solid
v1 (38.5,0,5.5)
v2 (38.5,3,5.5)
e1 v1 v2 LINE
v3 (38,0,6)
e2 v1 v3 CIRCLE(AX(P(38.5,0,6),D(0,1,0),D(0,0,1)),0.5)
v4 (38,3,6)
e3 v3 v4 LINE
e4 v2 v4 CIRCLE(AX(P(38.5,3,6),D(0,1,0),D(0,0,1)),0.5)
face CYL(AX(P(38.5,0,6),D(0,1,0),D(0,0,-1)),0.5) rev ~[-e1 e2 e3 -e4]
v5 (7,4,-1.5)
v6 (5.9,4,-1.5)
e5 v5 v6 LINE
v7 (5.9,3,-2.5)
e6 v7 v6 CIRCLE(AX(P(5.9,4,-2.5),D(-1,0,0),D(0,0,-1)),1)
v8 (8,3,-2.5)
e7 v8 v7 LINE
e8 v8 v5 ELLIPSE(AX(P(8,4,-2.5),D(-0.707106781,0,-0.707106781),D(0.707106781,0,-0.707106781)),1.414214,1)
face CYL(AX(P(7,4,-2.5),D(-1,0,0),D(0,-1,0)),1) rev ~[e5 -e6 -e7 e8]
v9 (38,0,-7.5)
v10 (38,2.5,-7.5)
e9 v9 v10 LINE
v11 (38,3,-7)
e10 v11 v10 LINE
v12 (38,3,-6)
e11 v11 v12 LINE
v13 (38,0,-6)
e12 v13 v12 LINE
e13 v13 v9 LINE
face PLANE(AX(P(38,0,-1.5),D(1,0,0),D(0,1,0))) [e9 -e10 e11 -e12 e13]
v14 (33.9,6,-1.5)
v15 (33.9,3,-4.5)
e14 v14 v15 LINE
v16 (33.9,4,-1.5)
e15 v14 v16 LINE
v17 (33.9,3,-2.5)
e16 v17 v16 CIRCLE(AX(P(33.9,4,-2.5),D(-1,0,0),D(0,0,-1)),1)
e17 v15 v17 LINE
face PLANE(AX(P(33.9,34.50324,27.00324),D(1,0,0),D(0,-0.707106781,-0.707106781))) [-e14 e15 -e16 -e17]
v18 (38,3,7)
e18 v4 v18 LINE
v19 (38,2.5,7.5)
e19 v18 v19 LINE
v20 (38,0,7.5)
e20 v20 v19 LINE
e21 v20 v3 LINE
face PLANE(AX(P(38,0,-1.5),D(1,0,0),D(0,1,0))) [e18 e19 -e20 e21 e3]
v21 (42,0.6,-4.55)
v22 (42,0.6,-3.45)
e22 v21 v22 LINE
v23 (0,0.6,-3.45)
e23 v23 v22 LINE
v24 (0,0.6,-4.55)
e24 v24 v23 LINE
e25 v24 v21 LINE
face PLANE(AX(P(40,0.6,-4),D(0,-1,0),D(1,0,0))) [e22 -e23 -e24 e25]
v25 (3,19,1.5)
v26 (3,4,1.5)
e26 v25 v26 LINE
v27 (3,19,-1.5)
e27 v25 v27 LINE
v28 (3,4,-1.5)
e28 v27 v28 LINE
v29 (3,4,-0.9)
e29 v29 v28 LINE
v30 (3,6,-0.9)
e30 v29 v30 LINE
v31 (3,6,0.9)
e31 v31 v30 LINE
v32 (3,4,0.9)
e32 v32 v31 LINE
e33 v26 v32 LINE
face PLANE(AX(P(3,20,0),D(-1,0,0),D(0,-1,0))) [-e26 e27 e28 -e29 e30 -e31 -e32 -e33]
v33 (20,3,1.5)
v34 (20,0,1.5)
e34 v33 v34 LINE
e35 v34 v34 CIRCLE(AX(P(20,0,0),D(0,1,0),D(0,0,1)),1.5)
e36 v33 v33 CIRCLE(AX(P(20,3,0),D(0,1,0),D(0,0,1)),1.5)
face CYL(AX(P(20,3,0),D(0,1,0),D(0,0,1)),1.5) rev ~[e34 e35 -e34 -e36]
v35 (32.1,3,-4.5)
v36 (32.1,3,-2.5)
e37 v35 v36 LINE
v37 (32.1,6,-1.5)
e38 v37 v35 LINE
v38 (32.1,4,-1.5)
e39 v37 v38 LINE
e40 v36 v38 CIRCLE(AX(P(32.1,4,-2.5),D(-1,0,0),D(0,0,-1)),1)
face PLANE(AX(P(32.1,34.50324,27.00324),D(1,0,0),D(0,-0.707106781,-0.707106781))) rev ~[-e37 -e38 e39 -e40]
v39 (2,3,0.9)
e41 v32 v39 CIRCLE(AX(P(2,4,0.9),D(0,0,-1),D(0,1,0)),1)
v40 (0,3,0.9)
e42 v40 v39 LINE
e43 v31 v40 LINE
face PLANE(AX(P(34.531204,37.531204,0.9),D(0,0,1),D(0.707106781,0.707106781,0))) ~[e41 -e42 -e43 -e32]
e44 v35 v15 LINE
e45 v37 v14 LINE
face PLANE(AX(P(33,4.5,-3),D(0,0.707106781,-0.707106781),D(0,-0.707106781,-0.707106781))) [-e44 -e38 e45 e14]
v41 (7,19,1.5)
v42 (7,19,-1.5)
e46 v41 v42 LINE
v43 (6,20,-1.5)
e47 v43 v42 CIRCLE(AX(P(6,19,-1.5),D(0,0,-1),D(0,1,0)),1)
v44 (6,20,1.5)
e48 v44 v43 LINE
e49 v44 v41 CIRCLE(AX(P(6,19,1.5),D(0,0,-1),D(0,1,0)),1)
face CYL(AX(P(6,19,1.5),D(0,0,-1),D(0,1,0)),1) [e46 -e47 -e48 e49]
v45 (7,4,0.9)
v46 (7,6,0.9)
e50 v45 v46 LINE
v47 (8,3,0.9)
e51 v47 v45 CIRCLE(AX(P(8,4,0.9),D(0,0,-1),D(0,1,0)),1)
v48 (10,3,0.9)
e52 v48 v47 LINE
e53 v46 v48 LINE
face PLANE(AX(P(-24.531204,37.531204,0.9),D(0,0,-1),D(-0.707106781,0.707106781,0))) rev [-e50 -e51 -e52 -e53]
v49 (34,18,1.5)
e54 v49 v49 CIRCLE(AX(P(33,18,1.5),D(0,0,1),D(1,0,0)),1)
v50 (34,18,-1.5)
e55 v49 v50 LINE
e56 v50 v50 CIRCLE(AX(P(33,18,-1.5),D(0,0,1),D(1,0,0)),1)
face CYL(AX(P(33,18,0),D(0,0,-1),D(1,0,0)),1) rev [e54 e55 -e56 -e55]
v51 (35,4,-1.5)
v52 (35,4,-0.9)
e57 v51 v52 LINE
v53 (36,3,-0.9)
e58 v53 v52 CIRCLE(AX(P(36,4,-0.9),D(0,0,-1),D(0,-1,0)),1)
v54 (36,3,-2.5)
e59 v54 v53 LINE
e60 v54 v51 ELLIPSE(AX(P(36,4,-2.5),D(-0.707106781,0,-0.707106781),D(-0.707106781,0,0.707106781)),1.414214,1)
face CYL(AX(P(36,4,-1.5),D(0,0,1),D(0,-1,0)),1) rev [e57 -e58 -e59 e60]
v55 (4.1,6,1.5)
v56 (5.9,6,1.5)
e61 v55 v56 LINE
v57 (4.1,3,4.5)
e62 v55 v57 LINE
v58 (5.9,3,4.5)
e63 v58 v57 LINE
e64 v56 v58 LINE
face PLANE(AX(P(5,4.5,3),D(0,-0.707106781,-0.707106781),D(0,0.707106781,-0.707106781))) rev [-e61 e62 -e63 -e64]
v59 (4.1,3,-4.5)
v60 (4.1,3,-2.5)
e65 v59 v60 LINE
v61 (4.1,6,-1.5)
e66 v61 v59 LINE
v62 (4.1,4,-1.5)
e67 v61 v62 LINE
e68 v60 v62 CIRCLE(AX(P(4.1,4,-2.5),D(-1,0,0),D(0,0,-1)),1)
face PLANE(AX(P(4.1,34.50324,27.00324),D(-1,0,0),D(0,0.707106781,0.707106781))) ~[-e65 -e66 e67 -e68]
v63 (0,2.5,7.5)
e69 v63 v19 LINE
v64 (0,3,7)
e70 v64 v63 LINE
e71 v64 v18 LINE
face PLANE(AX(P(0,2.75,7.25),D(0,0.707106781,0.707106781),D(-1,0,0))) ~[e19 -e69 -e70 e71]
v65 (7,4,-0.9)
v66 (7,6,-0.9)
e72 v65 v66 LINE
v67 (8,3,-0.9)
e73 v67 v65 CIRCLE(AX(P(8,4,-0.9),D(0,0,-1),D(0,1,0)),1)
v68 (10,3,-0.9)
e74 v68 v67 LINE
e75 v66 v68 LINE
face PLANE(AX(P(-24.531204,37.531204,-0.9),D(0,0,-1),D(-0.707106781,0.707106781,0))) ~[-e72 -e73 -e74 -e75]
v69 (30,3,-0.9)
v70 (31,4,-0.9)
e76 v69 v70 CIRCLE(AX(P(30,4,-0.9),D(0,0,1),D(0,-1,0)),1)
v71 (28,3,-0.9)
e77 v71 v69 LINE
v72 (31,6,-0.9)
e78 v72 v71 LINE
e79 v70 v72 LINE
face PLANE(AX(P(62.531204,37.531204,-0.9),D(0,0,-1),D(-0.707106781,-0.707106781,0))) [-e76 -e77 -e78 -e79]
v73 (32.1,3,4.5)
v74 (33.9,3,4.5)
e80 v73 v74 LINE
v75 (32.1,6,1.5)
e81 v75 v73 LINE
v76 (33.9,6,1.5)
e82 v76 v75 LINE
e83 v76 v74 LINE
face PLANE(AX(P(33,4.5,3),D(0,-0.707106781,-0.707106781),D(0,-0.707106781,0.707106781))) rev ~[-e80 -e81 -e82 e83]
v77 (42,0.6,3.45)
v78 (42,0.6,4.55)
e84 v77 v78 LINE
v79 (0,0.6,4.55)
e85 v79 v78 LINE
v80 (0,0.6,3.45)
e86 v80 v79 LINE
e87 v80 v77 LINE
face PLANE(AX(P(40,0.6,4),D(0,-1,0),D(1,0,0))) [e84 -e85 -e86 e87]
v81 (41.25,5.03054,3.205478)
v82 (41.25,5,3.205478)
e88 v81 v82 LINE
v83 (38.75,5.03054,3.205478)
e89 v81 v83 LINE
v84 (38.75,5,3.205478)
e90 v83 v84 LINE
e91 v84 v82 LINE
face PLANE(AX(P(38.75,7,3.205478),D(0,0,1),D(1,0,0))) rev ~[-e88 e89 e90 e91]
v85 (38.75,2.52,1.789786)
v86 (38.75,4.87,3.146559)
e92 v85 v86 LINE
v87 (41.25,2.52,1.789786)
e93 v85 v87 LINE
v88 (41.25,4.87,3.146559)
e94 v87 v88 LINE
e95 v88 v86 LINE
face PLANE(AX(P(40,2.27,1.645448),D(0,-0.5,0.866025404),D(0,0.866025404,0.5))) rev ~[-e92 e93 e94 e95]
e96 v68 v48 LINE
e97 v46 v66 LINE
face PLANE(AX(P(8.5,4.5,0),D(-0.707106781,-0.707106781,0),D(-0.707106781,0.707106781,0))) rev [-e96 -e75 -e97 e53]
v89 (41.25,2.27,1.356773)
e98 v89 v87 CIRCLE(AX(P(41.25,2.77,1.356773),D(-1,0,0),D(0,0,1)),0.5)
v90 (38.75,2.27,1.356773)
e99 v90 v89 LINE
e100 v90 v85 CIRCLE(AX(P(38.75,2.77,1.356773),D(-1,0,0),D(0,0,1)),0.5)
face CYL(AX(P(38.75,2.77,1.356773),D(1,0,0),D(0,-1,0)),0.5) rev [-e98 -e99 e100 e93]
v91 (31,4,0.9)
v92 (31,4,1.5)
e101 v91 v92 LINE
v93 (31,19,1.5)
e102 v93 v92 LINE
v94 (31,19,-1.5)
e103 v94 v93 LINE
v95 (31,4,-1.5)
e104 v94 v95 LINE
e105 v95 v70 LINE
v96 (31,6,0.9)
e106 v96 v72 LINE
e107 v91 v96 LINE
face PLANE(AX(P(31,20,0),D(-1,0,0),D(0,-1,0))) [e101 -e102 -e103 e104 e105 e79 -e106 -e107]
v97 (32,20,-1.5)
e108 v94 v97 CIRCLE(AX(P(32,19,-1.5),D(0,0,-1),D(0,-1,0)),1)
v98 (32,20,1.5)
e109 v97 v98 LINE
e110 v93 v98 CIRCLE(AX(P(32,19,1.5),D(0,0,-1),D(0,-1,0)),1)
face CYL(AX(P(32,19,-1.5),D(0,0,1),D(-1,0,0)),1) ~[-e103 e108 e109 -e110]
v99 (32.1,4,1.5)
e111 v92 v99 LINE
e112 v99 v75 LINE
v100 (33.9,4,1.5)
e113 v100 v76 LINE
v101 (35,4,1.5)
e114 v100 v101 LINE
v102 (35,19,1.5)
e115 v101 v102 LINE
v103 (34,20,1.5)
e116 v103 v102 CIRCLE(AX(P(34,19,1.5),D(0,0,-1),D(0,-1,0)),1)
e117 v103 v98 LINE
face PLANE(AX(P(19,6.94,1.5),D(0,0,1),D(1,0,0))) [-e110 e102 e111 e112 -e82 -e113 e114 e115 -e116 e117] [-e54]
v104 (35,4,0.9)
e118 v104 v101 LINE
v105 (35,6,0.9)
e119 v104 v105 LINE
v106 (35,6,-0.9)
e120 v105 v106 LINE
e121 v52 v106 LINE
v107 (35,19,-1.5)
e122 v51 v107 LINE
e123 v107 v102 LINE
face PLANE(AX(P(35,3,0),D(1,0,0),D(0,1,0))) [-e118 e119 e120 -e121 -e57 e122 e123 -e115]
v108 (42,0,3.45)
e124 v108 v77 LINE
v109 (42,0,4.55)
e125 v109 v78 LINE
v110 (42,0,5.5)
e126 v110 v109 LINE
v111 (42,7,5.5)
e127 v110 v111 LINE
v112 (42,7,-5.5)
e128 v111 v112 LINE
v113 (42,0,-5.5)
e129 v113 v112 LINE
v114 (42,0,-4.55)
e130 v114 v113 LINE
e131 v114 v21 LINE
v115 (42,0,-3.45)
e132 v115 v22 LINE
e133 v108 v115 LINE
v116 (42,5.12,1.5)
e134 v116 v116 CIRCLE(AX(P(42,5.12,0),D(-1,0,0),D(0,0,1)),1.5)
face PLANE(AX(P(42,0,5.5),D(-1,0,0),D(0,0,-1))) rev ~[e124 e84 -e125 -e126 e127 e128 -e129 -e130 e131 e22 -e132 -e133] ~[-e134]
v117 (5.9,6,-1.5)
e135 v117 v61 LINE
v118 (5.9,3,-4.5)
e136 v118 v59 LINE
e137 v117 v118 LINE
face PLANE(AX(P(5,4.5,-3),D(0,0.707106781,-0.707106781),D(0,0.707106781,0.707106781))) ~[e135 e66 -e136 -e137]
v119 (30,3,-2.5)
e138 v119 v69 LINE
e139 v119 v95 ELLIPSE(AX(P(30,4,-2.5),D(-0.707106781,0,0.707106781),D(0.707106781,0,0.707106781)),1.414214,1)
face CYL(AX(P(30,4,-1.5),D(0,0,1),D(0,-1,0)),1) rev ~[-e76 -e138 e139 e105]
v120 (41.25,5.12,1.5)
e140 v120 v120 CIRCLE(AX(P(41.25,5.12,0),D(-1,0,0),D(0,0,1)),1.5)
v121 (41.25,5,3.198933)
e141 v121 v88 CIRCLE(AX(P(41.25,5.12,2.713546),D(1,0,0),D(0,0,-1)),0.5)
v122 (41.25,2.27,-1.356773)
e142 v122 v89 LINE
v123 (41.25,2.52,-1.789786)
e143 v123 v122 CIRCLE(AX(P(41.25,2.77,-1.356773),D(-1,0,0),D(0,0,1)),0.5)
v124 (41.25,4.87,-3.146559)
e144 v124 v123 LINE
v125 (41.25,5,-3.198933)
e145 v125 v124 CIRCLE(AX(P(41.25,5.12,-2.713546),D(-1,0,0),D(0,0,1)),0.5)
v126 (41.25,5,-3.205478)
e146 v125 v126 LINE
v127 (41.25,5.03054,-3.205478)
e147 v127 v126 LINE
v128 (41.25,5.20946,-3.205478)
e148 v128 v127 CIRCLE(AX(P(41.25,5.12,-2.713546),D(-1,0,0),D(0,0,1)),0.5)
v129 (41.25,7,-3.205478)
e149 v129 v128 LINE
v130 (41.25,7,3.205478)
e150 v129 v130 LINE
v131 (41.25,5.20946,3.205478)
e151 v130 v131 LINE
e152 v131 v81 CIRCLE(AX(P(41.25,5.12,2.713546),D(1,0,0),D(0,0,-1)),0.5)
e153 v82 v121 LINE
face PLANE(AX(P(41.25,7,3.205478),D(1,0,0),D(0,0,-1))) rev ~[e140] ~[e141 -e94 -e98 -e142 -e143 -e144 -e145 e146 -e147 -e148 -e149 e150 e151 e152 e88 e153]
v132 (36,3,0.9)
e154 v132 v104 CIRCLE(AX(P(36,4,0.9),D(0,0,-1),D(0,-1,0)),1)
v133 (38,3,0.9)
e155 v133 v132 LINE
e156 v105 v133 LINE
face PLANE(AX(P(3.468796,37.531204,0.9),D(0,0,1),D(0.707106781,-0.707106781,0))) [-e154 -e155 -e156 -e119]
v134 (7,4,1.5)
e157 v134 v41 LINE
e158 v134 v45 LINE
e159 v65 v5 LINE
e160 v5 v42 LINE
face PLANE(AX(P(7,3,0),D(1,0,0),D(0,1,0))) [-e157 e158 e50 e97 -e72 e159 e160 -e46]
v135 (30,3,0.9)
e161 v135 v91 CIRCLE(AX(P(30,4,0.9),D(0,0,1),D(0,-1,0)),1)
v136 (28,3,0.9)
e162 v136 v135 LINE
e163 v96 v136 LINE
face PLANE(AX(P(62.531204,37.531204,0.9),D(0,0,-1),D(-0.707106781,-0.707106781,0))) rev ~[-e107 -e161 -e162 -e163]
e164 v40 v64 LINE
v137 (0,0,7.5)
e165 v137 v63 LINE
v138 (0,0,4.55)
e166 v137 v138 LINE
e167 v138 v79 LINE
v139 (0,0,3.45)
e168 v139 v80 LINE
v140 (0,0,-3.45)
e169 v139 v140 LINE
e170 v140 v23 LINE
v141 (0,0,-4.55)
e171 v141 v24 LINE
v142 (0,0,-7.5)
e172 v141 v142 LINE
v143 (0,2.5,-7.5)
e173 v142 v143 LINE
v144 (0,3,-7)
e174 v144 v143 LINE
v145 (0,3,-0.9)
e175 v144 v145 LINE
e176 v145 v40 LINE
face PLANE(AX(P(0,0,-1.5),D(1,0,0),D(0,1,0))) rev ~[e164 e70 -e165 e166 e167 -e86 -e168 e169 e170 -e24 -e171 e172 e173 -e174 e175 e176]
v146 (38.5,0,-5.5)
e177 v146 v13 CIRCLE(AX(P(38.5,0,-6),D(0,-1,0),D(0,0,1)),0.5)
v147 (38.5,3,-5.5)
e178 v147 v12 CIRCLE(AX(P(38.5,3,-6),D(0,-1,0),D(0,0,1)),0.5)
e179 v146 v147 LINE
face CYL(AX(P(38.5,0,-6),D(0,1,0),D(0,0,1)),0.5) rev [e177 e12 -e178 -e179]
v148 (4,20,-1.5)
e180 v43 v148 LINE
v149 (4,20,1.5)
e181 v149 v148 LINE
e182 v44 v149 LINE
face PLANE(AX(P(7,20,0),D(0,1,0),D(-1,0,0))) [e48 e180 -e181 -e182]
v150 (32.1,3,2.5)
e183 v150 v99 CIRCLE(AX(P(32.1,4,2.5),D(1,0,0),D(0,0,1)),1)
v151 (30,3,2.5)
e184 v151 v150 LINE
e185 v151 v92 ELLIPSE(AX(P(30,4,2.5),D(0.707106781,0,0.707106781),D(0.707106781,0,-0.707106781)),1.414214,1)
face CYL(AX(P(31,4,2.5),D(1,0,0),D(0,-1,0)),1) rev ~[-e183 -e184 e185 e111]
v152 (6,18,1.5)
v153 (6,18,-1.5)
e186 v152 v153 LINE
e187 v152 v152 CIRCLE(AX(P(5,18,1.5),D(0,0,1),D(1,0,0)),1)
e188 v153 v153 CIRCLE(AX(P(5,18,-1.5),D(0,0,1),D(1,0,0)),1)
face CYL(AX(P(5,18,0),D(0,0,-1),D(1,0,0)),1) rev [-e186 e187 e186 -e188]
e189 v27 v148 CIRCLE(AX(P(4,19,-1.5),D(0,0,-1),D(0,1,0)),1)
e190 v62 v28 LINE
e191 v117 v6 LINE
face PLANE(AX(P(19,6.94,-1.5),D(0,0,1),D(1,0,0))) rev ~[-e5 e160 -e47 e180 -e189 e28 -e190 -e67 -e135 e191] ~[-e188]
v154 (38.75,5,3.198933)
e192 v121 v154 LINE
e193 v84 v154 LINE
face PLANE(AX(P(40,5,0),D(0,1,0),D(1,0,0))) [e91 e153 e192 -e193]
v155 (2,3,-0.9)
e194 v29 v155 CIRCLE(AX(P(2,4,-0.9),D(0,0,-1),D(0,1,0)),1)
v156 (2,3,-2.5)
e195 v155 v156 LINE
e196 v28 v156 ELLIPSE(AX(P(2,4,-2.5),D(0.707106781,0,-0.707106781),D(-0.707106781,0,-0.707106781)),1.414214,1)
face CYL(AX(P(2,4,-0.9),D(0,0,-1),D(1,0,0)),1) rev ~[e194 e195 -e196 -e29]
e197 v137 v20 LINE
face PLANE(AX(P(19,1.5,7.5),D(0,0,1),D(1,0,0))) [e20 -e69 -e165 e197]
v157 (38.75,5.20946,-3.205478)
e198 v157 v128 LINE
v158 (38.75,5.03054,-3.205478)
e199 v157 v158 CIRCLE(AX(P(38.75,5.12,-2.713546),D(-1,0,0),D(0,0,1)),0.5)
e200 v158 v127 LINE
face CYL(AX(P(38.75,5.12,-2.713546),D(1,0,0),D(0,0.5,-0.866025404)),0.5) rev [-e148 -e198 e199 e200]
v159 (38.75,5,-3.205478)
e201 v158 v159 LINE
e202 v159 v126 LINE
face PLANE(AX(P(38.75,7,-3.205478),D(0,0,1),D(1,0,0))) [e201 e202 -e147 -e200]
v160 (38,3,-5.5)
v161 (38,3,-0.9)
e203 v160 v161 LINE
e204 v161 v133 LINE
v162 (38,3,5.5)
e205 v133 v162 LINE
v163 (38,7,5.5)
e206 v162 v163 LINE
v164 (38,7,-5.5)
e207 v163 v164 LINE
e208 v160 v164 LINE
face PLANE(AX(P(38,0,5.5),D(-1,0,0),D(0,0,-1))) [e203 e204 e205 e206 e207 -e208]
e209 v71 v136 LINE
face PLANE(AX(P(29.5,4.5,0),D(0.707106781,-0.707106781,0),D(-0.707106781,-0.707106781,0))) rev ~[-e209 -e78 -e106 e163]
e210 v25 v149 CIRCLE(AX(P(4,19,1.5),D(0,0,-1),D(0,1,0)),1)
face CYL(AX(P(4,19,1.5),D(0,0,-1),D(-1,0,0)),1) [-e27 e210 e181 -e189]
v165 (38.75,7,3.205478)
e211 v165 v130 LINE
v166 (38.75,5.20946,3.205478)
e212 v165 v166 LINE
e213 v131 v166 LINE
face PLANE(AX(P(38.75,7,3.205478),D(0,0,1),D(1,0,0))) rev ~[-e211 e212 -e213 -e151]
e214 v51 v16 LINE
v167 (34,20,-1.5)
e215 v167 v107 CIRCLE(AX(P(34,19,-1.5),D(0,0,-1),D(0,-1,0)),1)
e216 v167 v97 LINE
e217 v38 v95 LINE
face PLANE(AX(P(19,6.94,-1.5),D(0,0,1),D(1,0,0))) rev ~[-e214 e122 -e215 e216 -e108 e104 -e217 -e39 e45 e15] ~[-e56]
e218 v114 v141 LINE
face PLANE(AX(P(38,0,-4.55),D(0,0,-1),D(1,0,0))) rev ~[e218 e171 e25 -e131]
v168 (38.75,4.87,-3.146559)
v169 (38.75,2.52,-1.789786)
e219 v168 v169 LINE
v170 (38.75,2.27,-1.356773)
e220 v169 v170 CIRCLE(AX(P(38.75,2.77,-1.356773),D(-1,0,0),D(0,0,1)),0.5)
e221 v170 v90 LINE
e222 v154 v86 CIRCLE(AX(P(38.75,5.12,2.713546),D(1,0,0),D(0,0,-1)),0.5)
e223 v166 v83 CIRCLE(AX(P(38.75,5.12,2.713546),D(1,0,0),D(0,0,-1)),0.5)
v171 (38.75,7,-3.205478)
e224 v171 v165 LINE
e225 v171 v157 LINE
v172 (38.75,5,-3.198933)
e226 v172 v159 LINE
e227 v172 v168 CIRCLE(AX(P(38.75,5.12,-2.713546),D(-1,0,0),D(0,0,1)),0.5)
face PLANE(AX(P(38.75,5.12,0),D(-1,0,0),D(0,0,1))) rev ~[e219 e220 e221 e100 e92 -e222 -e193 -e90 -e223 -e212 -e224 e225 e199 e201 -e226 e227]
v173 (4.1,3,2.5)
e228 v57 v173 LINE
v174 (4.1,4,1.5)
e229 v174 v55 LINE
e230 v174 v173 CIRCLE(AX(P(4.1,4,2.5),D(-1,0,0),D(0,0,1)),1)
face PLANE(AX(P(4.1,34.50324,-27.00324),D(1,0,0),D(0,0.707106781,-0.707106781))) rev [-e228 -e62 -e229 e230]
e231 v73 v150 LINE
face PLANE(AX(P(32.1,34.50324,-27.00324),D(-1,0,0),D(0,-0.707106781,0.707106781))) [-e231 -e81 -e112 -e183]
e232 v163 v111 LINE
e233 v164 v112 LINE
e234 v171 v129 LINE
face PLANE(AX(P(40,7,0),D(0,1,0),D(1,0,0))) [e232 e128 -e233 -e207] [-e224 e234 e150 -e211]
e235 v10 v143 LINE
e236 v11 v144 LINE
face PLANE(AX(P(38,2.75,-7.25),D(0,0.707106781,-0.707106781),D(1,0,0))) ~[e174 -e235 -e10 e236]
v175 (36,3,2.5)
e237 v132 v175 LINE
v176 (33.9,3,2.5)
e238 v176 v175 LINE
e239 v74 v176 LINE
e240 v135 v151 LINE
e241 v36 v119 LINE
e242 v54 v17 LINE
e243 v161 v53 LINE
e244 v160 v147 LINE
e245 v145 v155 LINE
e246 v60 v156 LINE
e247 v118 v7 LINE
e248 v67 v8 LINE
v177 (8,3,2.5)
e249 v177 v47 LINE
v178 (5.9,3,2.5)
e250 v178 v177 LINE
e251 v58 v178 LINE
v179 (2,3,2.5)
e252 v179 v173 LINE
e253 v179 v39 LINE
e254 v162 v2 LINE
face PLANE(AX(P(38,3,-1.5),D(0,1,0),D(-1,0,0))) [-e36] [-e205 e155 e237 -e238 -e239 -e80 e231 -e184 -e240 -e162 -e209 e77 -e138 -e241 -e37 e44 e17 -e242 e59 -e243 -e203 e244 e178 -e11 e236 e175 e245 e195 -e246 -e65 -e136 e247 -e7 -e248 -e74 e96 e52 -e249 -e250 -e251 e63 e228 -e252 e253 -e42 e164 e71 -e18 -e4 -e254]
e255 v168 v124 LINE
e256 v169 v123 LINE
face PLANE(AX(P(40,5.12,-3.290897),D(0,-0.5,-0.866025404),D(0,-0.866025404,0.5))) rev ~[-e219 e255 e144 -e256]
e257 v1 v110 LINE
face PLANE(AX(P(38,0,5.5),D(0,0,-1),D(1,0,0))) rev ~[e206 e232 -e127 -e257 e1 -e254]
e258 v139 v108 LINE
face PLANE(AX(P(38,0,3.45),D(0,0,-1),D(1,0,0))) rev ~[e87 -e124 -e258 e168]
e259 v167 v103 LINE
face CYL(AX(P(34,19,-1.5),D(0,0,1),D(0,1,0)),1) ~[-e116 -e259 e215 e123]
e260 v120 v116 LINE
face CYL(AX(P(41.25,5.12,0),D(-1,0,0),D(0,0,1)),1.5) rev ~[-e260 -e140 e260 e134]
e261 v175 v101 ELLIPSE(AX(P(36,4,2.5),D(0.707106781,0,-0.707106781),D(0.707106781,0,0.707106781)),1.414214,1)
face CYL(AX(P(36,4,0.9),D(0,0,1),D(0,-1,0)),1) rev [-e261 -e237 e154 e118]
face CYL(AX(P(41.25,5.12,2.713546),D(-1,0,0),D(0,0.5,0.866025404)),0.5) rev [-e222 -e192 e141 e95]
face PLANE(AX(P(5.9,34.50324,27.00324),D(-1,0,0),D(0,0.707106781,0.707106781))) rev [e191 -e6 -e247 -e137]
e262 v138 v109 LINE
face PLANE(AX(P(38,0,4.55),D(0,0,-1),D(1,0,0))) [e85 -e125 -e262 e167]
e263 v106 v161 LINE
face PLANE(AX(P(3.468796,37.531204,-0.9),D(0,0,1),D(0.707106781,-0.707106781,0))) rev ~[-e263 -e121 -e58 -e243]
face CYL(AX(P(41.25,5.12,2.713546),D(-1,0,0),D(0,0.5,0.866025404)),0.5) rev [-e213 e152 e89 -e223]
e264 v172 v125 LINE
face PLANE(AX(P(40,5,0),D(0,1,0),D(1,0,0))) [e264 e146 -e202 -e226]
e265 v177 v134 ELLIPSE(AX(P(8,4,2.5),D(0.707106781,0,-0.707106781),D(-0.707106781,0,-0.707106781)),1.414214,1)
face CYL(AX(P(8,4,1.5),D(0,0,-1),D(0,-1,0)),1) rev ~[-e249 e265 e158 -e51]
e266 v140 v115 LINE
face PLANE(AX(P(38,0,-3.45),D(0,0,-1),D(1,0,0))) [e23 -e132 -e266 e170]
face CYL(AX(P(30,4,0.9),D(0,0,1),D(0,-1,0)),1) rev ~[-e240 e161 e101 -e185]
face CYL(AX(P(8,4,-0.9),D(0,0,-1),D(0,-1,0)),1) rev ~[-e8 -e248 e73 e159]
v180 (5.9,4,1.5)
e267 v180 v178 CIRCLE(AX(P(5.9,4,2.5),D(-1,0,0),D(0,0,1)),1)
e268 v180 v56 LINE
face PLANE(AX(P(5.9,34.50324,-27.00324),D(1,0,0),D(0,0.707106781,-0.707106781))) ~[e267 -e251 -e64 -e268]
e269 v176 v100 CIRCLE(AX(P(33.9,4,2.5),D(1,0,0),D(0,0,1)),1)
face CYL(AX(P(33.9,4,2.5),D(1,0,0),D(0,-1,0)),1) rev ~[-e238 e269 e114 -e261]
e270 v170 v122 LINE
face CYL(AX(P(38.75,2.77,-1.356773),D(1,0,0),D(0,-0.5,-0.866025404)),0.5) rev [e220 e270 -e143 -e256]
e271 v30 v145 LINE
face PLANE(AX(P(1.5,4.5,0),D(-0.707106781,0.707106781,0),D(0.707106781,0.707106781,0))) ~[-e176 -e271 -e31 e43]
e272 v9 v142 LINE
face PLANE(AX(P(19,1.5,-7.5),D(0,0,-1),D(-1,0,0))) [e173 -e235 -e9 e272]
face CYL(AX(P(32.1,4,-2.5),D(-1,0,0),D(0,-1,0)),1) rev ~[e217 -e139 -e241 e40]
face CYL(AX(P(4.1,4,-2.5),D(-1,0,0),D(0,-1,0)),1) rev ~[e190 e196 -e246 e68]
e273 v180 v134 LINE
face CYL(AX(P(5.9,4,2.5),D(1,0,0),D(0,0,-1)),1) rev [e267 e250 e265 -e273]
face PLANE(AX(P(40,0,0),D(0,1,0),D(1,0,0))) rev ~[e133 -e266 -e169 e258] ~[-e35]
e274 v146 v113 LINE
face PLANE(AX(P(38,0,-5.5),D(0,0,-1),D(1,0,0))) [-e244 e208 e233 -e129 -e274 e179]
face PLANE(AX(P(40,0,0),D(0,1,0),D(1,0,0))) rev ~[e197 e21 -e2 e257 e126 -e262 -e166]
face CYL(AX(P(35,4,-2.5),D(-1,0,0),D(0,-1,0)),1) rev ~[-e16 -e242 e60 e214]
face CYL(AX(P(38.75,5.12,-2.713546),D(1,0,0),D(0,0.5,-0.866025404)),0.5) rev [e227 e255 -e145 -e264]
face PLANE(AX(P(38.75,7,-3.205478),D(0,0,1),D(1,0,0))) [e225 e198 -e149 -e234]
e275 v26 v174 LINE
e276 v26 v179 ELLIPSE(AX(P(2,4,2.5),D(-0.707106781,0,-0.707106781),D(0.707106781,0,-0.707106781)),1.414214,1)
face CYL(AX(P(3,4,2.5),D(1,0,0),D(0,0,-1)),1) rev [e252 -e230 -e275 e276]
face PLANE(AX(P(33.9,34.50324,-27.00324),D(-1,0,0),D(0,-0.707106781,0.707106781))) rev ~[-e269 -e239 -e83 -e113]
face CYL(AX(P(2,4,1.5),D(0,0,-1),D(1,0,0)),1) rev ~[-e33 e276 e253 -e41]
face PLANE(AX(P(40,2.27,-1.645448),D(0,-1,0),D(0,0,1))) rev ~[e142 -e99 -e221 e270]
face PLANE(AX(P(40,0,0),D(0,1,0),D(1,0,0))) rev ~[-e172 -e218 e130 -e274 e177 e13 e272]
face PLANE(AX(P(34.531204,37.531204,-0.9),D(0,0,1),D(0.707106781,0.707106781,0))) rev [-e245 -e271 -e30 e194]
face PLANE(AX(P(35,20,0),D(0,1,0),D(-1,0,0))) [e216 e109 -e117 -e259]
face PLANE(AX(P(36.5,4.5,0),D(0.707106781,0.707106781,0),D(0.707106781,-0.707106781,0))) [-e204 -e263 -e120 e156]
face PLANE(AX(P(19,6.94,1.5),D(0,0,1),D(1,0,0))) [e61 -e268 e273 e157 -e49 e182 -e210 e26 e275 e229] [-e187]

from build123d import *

# Parameters (mm, degrees)
CROQUIS1_R                   = 1
SALIENTE_EXTRUIR1_DEPTH      = 1.5
CROQUIS2_W                   = 38
CROQUIS2_H                   = 3
SALIENTE_EXTRUIR2_DEPTH      = 6
CROQUIS3_W                   = 38
CROQUIS3_H                   = 3
SALIENTE_EXTRUIR3_DEPTH      = 6
REDONDEO1_R                  = 1
NERVIO1_REACH                = 45.592
CROQUIS4_WALL_W              = 93.426354762
CROQUIS4_WALL_H              = 1.8
NERVIO5_REACH                = 45.592
CROQUIS5_WALL_W              = 93.426354762
CROQUIS5_WALL_H              = 1.8
NERVIO6_REACH                = 41.31
CROQUIS6_WALL_W              = 84.861976732
CROQUIS6_WALL_H              = 1.8
NERVIO7_REACH                = 41.31
CROQUIS7_WALL_W              = 84.861976732
CROQUIS7_WALL_H              = 1.8
REDONDEO2_R                  = 1
CROQUIS8_W                   = 38
CROQUIS8_H                   = 1.1
CROQUIS8_W_2                 = 38.249115133
CORTAR_EXTRUIR1_DEPTH        = 0.6
SALIENTE_EXTRUIR5_DEPTH      = 4
SALIENTE_EXTRUIR5_DEPTH_BACK = 3
CROQUIS10_W                  = 4
CROQUIS10_H                  = 11
CORTAR_EXTRUIR2_START        = -2
CORTAR_EXTRUIR2_DEPTH        = 1.25
REDONDEO5_R                  = 0.5
CROQUIS13_W                  = 4
CROQUIS13_H                  = 1.1
CORTAR_EXTRUIR4_DEPTH        = 0.6
CROQUIS14_W                  = 2.5
CROQUIS14_H                  = 6.410956056
CORTAR_EXTRUIR5_DEPTH        = 2
CORTAR_EXTRUIR6_START        = -3.25
CROQUIS11_3_R                = 1.5
CORTAR_EXTRUIR6_DEPTH        = 4
CORTAR_EXTRUIR7_REACH        = 47.927
CROQUIS16_R                  = 1.5
REDONDEO6_R                  = 0.5
CHAFL_N1_SIZE                = 0.5


with BuildPart() as part:
    # Croquis1 → Saliente-Extruir1 (new, symmetric)
    with BuildSketch(Plane.XY):
        Polygon((0, 0), (38, 0), (38, 3), (35, 3), (35, 20), (31, 20), (31, 3), (7, 3), (7, 20), (3, 20), (3, 3), (0, 3), align=None)
        with Locations((5, 18)):
            Circle(CROQUIS1_R, mode=Mode.SUBTRACT)
        with Locations((33, 18)):
            Circle(CROQUIS1_R, mode=Mode.SUBTRACT)
    extrude(amount=SALIENTE_EXTRUIR1_DEPTH, both=True)

    # Croquis2 → Saliente-Extruir2 (add)
    with BuildSketch(Plane.XY.offset(1.5)):
        with Locations((19, 1.5)):
            Rectangle(CROQUIS2_W, CROQUIS2_H)
    extrude(amount=SALIENTE_EXTRUIR2_DEPTH)

    # Croquis3 → Saliente-Extruir3 (add)
    with BuildSketch(Plane(origin=(0, 0, -1.5), x_dir=(-1, 0, 0), z_dir=(0, 0, -1))):
        with Locations((-19, 1.5)):
            Rectangle(CROQUIS3_W, CROQUIS3_H)
    extrude(amount=SALIENTE_EXTRUIR3_DEPTH)

    # Redondeo1
    redondeo1_edges = [part.edges().sort_by_distance(p)[0] for p in [
        (3, 20, 0),
        (7, 20, 0),
        (31, 20, 0),
        (35, 20, 0),
    ]]
    fillet(redondeo1_edges, radius=REDONDEO1_R)

    # Croquis4 wall → Nervio1 (add, up to next)
    with BuildSketch(Plane(origin=(36.5, 4.5, 0), x_dir=(0.707106781187, -0.707106781187, 0), z_dir=(0.707106781187, 0.707106781187, 0)), mode=Mode.PRIVATE) as nervio1_sk1:
        Rectangle(CROQUIS4_WALL_W, CROQUIS4_WALL_H)
    nervio1_tool1 = extrude(nervio1_sk1.sketch, amount=-NERVIO1_REACH, mode=Mode.PRIVATE) - part.part
    nervio1 = nervio1_tool1.solids().sort_by_distance((36.5, 4.5, 0))[0]
    add(nervio1)

    # Croquis5 wall → Nervio5 (add, up to next)
    with BuildSketch(Plane(origin=(29.5, 4.5, 0), x_dir=(-0.707106781187, -0.707106781187, 0), z_dir=(0.707106781187, -0.707106781187, 0)), mode=Mode.PRIVATE) as nervio5_sk1:
        Rectangle(CROQUIS5_WALL_W, CROQUIS5_WALL_H)
    nervio5_tool1 = extrude(nervio5_sk1.sketch, amount=NERVIO5_REACH, mode=Mode.PRIVATE) - part.part
    nervio5 = nervio5_tool1.solids().sort_by_distance((29.5, 4.5, 0))[0]
    add(nervio5)

    # Croquis6 wall → Nervio6 (add, up to next)
    with BuildSketch(Plane(origin=(33, 4.5, -3), x_dir=(0, -0.707106781187, -0.707106781187), z_dir=(0, 0.707106781187, -0.707106781187)), mode=Mode.PRIVATE) as nervio6_sk1:
        Rectangle(CROQUIS6_WALL_W, CROQUIS6_WALL_H)
    nervio6_tool1 = extrude(nervio6_sk1.sketch, amount=-NERVIO6_REACH, mode=Mode.PRIVATE) - part.part
    nervio6 = nervio6_tool1.solids().sort_by_distance((33, 4.5, -3))[0]
    add(nervio6)

    # Croquis7 wall → Nervio7 (add, up to next)
    with BuildSketch(Plane(origin=(33, 4.5, 3), x_dir=(0, -0.707106781187, 0.707106781187), z_dir=(0, -0.707106781187, -0.707106781187)), mode=Mode.PRIVATE) as nervio7_sk1:
        Rectangle(CROQUIS7_WALL_W, CROQUIS7_WALL_H)
    nervio7_tool1 = extrude(nervio7_sk1.sketch, amount=NERVIO7_REACH, mode=Mode.PRIVATE) - part.part
    nervio7 = nervio7_tool1.solids().sort_by_distance((33, 4.5, 3))[0]
    add(nervio7)

    # Simetría3: Nervio1, Nervio5, Nervio6, Nervio7 across plane
    add(nervio1.mirror(Plane.ZY.offset(-19)))
    add(nervio5.mirror(Plane.ZY.offset(-19)))
    add(nervio6.mirror(Plane.ZY.offset(-19)))
    add(nervio7.mirror(Plane.ZY.offset(-19)))

    # Redondeo2
    redondeo2_edges = [part.edges().sort_by_distance(p)[0] for p in [
        (35, 3, -1.2),
        (31, 3, -1.2),
        (34.45, 3, -1.5),
        (3, 3, 1.2),
        (7, 3, 1.2),
        (31.55, 3, 1.5),
        (31, 3, 1.2),
        (35, 3, 1.2),
        (3, 3, -1.2),
        (7, 3, -1.2),
        (6.45, 3, -1.5),
        (3.55, 3, 1.5),
        (6.45, 3, 1.5),
        (34.45, 3, 1.5),
        (31.55, 3, -1.5),
        (3.55, 3, -1.5),
    ]]
    fillet(redondeo2_edges, radius=REDONDEO2_R)

    # Croquis8 → Cortar-Extruir1 (cut)
    with BuildSketch(Plane.XZ):
        with Locations((19, 4)):
            Rectangle(CROQUIS8_W, CROQUIS8_H)
        with Locations((19.124557567, -4)):
            Rectangle(CROQUIS8_W_2, CROQUIS8_H)
    extrude(amount=-CORTAR_EXTRUIR1_DEPTH, mode=Mode.SUBTRACT)

    # Croquis10 → Saliente-Extruir5 (add, two sides: drawn at the far end of the back side and taken through both)
    with BuildSketch(Plane(origin=(0, 3, 0), x_dir=(1, 0, 0), z_dir=(0, 1, 0)).offset(-SALIENTE_EXTRUIR5_DEPTH_BACK)):
        with Locations((40, 0)):
            Rectangle(CROQUIS10_W, CROQUIS10_H)
    extrude(amount=SALIENTE_EXTRUIR5_DEPTH + SALIENTE_EXTRUIR5_DEPTH_BACK)

    # Croquis11 → Cortar-Extruir2 (cut, symmetric)
    with BuildSketch(Plane.ZY.offset(-38).offset(CORTAR_EXTRUIR2_START)):
        Polygon((1.645448267, 2.27), (3.290896534, 5.12), (1.645448267, 7.97), (-1.645448267, 7.97), (-3.290896534, 5.12), (-1.645448267, 2.27), align=None)
    extrude(amount=CORTAR_EXTRUIR2_DEPTH, both=True, mode=Mode.SUBTRACT)

    # Redondeo5
    redondeo5_edges = [part.edges().sort_by_distance(p)[0] for p in [
        (40, 5.12, -3.290896534),
        (40, 2.27, -1.645448267),
        (40, 2.27, 1.645448267),
        (40, 5.12, 3.290896534),
    ]]
    fillet(redondeo5_edges, radius=REDONDEO5_R)

    # Croquis13 → Cortar-Extruir4 (cut)
    with BuildSketch(Plane.XZ):
        with Locations((40, 4)):
            Rectangle(CROQUIS13_W, CROQUIS13_H)
        with Locations((40, -4)):
            Rectangle(CROQUIS13_W, CROQUIS13_H)
    extrude(amount=-CORTAR_EXTRUIR4_DEPTH, mode=Mode.SUBTRACT)

    # Croquis14 → Cortar-Extruir5 (cut)
    with BuildSketch(Plane(origin=(0, 7, 0), x_dir=(1, 0, 0), z_dir=(0, 1, 0))):
        with Locations((40, 0)):
            Rectangle(CROQUIS14_W, CROQUIS14_H)
    extrude(amount=-CORTAR_EXTRUIR5_DEPTH, mode=Mode.SUBTRACT)

    # Croquis11<3> → Cortar-Extruir6 (cut)
    with BuildSketch(Plane.ZY.offset(-38).offset(CORTAR_EXTRUIR6_START)):
        with Locations((0, 5.12)):
            Circle(CROQUIS11_3_R)
    extrude(amount=-CORTAR_EXTRUIR6_DEPTH, mode=Mode.SUBTRACT)

    # Croquis16 → Cortar-Extruir7 (cut, up to next)
    with BuildSketch(Plane(origin=(0, 3, 0), x_dir=(1, 0, 0), z_dir=(0, 1, 0)), mode=Mode.PRIVATE) as cortar_extruir7_sk1:
        with Locations(Location((20, 0, 0), (0, 0, 270))):
            Circle(CROQUIS16_R)
    cortar_extruir7_tool1 = extrude(cortar_extruir7_sk1.sketch, amount=-CORTAR_EXTRUIR7_REACH, mode=Mode.PRIVATE) & part.part
    add(cortar_extruir7_tool1.solids().sort_by_distance((20, 3, 0))[0], mode=Mode.SUBTRACT)

    # Redondeo6
    redondeo6_edges = [part.edges().sort_by_distance(p)[0] for p in [
        (38, 1.5, 5.5),
        (38, 1.5, -5.5),
    ]]
    fillet(redondeo6_edges, radius=REDONDEO6_R)

    # Chaflán1
    chafl_n1_edges = [part.edges().sort_by_distance(p)[0] for p in [
        (19, 3, 7.5),
        (19, 3, -7.5),
    ]]
    chamfer(chafl_n1_edges, length=CHAFL_N1_SIZE)


solid = part.part
